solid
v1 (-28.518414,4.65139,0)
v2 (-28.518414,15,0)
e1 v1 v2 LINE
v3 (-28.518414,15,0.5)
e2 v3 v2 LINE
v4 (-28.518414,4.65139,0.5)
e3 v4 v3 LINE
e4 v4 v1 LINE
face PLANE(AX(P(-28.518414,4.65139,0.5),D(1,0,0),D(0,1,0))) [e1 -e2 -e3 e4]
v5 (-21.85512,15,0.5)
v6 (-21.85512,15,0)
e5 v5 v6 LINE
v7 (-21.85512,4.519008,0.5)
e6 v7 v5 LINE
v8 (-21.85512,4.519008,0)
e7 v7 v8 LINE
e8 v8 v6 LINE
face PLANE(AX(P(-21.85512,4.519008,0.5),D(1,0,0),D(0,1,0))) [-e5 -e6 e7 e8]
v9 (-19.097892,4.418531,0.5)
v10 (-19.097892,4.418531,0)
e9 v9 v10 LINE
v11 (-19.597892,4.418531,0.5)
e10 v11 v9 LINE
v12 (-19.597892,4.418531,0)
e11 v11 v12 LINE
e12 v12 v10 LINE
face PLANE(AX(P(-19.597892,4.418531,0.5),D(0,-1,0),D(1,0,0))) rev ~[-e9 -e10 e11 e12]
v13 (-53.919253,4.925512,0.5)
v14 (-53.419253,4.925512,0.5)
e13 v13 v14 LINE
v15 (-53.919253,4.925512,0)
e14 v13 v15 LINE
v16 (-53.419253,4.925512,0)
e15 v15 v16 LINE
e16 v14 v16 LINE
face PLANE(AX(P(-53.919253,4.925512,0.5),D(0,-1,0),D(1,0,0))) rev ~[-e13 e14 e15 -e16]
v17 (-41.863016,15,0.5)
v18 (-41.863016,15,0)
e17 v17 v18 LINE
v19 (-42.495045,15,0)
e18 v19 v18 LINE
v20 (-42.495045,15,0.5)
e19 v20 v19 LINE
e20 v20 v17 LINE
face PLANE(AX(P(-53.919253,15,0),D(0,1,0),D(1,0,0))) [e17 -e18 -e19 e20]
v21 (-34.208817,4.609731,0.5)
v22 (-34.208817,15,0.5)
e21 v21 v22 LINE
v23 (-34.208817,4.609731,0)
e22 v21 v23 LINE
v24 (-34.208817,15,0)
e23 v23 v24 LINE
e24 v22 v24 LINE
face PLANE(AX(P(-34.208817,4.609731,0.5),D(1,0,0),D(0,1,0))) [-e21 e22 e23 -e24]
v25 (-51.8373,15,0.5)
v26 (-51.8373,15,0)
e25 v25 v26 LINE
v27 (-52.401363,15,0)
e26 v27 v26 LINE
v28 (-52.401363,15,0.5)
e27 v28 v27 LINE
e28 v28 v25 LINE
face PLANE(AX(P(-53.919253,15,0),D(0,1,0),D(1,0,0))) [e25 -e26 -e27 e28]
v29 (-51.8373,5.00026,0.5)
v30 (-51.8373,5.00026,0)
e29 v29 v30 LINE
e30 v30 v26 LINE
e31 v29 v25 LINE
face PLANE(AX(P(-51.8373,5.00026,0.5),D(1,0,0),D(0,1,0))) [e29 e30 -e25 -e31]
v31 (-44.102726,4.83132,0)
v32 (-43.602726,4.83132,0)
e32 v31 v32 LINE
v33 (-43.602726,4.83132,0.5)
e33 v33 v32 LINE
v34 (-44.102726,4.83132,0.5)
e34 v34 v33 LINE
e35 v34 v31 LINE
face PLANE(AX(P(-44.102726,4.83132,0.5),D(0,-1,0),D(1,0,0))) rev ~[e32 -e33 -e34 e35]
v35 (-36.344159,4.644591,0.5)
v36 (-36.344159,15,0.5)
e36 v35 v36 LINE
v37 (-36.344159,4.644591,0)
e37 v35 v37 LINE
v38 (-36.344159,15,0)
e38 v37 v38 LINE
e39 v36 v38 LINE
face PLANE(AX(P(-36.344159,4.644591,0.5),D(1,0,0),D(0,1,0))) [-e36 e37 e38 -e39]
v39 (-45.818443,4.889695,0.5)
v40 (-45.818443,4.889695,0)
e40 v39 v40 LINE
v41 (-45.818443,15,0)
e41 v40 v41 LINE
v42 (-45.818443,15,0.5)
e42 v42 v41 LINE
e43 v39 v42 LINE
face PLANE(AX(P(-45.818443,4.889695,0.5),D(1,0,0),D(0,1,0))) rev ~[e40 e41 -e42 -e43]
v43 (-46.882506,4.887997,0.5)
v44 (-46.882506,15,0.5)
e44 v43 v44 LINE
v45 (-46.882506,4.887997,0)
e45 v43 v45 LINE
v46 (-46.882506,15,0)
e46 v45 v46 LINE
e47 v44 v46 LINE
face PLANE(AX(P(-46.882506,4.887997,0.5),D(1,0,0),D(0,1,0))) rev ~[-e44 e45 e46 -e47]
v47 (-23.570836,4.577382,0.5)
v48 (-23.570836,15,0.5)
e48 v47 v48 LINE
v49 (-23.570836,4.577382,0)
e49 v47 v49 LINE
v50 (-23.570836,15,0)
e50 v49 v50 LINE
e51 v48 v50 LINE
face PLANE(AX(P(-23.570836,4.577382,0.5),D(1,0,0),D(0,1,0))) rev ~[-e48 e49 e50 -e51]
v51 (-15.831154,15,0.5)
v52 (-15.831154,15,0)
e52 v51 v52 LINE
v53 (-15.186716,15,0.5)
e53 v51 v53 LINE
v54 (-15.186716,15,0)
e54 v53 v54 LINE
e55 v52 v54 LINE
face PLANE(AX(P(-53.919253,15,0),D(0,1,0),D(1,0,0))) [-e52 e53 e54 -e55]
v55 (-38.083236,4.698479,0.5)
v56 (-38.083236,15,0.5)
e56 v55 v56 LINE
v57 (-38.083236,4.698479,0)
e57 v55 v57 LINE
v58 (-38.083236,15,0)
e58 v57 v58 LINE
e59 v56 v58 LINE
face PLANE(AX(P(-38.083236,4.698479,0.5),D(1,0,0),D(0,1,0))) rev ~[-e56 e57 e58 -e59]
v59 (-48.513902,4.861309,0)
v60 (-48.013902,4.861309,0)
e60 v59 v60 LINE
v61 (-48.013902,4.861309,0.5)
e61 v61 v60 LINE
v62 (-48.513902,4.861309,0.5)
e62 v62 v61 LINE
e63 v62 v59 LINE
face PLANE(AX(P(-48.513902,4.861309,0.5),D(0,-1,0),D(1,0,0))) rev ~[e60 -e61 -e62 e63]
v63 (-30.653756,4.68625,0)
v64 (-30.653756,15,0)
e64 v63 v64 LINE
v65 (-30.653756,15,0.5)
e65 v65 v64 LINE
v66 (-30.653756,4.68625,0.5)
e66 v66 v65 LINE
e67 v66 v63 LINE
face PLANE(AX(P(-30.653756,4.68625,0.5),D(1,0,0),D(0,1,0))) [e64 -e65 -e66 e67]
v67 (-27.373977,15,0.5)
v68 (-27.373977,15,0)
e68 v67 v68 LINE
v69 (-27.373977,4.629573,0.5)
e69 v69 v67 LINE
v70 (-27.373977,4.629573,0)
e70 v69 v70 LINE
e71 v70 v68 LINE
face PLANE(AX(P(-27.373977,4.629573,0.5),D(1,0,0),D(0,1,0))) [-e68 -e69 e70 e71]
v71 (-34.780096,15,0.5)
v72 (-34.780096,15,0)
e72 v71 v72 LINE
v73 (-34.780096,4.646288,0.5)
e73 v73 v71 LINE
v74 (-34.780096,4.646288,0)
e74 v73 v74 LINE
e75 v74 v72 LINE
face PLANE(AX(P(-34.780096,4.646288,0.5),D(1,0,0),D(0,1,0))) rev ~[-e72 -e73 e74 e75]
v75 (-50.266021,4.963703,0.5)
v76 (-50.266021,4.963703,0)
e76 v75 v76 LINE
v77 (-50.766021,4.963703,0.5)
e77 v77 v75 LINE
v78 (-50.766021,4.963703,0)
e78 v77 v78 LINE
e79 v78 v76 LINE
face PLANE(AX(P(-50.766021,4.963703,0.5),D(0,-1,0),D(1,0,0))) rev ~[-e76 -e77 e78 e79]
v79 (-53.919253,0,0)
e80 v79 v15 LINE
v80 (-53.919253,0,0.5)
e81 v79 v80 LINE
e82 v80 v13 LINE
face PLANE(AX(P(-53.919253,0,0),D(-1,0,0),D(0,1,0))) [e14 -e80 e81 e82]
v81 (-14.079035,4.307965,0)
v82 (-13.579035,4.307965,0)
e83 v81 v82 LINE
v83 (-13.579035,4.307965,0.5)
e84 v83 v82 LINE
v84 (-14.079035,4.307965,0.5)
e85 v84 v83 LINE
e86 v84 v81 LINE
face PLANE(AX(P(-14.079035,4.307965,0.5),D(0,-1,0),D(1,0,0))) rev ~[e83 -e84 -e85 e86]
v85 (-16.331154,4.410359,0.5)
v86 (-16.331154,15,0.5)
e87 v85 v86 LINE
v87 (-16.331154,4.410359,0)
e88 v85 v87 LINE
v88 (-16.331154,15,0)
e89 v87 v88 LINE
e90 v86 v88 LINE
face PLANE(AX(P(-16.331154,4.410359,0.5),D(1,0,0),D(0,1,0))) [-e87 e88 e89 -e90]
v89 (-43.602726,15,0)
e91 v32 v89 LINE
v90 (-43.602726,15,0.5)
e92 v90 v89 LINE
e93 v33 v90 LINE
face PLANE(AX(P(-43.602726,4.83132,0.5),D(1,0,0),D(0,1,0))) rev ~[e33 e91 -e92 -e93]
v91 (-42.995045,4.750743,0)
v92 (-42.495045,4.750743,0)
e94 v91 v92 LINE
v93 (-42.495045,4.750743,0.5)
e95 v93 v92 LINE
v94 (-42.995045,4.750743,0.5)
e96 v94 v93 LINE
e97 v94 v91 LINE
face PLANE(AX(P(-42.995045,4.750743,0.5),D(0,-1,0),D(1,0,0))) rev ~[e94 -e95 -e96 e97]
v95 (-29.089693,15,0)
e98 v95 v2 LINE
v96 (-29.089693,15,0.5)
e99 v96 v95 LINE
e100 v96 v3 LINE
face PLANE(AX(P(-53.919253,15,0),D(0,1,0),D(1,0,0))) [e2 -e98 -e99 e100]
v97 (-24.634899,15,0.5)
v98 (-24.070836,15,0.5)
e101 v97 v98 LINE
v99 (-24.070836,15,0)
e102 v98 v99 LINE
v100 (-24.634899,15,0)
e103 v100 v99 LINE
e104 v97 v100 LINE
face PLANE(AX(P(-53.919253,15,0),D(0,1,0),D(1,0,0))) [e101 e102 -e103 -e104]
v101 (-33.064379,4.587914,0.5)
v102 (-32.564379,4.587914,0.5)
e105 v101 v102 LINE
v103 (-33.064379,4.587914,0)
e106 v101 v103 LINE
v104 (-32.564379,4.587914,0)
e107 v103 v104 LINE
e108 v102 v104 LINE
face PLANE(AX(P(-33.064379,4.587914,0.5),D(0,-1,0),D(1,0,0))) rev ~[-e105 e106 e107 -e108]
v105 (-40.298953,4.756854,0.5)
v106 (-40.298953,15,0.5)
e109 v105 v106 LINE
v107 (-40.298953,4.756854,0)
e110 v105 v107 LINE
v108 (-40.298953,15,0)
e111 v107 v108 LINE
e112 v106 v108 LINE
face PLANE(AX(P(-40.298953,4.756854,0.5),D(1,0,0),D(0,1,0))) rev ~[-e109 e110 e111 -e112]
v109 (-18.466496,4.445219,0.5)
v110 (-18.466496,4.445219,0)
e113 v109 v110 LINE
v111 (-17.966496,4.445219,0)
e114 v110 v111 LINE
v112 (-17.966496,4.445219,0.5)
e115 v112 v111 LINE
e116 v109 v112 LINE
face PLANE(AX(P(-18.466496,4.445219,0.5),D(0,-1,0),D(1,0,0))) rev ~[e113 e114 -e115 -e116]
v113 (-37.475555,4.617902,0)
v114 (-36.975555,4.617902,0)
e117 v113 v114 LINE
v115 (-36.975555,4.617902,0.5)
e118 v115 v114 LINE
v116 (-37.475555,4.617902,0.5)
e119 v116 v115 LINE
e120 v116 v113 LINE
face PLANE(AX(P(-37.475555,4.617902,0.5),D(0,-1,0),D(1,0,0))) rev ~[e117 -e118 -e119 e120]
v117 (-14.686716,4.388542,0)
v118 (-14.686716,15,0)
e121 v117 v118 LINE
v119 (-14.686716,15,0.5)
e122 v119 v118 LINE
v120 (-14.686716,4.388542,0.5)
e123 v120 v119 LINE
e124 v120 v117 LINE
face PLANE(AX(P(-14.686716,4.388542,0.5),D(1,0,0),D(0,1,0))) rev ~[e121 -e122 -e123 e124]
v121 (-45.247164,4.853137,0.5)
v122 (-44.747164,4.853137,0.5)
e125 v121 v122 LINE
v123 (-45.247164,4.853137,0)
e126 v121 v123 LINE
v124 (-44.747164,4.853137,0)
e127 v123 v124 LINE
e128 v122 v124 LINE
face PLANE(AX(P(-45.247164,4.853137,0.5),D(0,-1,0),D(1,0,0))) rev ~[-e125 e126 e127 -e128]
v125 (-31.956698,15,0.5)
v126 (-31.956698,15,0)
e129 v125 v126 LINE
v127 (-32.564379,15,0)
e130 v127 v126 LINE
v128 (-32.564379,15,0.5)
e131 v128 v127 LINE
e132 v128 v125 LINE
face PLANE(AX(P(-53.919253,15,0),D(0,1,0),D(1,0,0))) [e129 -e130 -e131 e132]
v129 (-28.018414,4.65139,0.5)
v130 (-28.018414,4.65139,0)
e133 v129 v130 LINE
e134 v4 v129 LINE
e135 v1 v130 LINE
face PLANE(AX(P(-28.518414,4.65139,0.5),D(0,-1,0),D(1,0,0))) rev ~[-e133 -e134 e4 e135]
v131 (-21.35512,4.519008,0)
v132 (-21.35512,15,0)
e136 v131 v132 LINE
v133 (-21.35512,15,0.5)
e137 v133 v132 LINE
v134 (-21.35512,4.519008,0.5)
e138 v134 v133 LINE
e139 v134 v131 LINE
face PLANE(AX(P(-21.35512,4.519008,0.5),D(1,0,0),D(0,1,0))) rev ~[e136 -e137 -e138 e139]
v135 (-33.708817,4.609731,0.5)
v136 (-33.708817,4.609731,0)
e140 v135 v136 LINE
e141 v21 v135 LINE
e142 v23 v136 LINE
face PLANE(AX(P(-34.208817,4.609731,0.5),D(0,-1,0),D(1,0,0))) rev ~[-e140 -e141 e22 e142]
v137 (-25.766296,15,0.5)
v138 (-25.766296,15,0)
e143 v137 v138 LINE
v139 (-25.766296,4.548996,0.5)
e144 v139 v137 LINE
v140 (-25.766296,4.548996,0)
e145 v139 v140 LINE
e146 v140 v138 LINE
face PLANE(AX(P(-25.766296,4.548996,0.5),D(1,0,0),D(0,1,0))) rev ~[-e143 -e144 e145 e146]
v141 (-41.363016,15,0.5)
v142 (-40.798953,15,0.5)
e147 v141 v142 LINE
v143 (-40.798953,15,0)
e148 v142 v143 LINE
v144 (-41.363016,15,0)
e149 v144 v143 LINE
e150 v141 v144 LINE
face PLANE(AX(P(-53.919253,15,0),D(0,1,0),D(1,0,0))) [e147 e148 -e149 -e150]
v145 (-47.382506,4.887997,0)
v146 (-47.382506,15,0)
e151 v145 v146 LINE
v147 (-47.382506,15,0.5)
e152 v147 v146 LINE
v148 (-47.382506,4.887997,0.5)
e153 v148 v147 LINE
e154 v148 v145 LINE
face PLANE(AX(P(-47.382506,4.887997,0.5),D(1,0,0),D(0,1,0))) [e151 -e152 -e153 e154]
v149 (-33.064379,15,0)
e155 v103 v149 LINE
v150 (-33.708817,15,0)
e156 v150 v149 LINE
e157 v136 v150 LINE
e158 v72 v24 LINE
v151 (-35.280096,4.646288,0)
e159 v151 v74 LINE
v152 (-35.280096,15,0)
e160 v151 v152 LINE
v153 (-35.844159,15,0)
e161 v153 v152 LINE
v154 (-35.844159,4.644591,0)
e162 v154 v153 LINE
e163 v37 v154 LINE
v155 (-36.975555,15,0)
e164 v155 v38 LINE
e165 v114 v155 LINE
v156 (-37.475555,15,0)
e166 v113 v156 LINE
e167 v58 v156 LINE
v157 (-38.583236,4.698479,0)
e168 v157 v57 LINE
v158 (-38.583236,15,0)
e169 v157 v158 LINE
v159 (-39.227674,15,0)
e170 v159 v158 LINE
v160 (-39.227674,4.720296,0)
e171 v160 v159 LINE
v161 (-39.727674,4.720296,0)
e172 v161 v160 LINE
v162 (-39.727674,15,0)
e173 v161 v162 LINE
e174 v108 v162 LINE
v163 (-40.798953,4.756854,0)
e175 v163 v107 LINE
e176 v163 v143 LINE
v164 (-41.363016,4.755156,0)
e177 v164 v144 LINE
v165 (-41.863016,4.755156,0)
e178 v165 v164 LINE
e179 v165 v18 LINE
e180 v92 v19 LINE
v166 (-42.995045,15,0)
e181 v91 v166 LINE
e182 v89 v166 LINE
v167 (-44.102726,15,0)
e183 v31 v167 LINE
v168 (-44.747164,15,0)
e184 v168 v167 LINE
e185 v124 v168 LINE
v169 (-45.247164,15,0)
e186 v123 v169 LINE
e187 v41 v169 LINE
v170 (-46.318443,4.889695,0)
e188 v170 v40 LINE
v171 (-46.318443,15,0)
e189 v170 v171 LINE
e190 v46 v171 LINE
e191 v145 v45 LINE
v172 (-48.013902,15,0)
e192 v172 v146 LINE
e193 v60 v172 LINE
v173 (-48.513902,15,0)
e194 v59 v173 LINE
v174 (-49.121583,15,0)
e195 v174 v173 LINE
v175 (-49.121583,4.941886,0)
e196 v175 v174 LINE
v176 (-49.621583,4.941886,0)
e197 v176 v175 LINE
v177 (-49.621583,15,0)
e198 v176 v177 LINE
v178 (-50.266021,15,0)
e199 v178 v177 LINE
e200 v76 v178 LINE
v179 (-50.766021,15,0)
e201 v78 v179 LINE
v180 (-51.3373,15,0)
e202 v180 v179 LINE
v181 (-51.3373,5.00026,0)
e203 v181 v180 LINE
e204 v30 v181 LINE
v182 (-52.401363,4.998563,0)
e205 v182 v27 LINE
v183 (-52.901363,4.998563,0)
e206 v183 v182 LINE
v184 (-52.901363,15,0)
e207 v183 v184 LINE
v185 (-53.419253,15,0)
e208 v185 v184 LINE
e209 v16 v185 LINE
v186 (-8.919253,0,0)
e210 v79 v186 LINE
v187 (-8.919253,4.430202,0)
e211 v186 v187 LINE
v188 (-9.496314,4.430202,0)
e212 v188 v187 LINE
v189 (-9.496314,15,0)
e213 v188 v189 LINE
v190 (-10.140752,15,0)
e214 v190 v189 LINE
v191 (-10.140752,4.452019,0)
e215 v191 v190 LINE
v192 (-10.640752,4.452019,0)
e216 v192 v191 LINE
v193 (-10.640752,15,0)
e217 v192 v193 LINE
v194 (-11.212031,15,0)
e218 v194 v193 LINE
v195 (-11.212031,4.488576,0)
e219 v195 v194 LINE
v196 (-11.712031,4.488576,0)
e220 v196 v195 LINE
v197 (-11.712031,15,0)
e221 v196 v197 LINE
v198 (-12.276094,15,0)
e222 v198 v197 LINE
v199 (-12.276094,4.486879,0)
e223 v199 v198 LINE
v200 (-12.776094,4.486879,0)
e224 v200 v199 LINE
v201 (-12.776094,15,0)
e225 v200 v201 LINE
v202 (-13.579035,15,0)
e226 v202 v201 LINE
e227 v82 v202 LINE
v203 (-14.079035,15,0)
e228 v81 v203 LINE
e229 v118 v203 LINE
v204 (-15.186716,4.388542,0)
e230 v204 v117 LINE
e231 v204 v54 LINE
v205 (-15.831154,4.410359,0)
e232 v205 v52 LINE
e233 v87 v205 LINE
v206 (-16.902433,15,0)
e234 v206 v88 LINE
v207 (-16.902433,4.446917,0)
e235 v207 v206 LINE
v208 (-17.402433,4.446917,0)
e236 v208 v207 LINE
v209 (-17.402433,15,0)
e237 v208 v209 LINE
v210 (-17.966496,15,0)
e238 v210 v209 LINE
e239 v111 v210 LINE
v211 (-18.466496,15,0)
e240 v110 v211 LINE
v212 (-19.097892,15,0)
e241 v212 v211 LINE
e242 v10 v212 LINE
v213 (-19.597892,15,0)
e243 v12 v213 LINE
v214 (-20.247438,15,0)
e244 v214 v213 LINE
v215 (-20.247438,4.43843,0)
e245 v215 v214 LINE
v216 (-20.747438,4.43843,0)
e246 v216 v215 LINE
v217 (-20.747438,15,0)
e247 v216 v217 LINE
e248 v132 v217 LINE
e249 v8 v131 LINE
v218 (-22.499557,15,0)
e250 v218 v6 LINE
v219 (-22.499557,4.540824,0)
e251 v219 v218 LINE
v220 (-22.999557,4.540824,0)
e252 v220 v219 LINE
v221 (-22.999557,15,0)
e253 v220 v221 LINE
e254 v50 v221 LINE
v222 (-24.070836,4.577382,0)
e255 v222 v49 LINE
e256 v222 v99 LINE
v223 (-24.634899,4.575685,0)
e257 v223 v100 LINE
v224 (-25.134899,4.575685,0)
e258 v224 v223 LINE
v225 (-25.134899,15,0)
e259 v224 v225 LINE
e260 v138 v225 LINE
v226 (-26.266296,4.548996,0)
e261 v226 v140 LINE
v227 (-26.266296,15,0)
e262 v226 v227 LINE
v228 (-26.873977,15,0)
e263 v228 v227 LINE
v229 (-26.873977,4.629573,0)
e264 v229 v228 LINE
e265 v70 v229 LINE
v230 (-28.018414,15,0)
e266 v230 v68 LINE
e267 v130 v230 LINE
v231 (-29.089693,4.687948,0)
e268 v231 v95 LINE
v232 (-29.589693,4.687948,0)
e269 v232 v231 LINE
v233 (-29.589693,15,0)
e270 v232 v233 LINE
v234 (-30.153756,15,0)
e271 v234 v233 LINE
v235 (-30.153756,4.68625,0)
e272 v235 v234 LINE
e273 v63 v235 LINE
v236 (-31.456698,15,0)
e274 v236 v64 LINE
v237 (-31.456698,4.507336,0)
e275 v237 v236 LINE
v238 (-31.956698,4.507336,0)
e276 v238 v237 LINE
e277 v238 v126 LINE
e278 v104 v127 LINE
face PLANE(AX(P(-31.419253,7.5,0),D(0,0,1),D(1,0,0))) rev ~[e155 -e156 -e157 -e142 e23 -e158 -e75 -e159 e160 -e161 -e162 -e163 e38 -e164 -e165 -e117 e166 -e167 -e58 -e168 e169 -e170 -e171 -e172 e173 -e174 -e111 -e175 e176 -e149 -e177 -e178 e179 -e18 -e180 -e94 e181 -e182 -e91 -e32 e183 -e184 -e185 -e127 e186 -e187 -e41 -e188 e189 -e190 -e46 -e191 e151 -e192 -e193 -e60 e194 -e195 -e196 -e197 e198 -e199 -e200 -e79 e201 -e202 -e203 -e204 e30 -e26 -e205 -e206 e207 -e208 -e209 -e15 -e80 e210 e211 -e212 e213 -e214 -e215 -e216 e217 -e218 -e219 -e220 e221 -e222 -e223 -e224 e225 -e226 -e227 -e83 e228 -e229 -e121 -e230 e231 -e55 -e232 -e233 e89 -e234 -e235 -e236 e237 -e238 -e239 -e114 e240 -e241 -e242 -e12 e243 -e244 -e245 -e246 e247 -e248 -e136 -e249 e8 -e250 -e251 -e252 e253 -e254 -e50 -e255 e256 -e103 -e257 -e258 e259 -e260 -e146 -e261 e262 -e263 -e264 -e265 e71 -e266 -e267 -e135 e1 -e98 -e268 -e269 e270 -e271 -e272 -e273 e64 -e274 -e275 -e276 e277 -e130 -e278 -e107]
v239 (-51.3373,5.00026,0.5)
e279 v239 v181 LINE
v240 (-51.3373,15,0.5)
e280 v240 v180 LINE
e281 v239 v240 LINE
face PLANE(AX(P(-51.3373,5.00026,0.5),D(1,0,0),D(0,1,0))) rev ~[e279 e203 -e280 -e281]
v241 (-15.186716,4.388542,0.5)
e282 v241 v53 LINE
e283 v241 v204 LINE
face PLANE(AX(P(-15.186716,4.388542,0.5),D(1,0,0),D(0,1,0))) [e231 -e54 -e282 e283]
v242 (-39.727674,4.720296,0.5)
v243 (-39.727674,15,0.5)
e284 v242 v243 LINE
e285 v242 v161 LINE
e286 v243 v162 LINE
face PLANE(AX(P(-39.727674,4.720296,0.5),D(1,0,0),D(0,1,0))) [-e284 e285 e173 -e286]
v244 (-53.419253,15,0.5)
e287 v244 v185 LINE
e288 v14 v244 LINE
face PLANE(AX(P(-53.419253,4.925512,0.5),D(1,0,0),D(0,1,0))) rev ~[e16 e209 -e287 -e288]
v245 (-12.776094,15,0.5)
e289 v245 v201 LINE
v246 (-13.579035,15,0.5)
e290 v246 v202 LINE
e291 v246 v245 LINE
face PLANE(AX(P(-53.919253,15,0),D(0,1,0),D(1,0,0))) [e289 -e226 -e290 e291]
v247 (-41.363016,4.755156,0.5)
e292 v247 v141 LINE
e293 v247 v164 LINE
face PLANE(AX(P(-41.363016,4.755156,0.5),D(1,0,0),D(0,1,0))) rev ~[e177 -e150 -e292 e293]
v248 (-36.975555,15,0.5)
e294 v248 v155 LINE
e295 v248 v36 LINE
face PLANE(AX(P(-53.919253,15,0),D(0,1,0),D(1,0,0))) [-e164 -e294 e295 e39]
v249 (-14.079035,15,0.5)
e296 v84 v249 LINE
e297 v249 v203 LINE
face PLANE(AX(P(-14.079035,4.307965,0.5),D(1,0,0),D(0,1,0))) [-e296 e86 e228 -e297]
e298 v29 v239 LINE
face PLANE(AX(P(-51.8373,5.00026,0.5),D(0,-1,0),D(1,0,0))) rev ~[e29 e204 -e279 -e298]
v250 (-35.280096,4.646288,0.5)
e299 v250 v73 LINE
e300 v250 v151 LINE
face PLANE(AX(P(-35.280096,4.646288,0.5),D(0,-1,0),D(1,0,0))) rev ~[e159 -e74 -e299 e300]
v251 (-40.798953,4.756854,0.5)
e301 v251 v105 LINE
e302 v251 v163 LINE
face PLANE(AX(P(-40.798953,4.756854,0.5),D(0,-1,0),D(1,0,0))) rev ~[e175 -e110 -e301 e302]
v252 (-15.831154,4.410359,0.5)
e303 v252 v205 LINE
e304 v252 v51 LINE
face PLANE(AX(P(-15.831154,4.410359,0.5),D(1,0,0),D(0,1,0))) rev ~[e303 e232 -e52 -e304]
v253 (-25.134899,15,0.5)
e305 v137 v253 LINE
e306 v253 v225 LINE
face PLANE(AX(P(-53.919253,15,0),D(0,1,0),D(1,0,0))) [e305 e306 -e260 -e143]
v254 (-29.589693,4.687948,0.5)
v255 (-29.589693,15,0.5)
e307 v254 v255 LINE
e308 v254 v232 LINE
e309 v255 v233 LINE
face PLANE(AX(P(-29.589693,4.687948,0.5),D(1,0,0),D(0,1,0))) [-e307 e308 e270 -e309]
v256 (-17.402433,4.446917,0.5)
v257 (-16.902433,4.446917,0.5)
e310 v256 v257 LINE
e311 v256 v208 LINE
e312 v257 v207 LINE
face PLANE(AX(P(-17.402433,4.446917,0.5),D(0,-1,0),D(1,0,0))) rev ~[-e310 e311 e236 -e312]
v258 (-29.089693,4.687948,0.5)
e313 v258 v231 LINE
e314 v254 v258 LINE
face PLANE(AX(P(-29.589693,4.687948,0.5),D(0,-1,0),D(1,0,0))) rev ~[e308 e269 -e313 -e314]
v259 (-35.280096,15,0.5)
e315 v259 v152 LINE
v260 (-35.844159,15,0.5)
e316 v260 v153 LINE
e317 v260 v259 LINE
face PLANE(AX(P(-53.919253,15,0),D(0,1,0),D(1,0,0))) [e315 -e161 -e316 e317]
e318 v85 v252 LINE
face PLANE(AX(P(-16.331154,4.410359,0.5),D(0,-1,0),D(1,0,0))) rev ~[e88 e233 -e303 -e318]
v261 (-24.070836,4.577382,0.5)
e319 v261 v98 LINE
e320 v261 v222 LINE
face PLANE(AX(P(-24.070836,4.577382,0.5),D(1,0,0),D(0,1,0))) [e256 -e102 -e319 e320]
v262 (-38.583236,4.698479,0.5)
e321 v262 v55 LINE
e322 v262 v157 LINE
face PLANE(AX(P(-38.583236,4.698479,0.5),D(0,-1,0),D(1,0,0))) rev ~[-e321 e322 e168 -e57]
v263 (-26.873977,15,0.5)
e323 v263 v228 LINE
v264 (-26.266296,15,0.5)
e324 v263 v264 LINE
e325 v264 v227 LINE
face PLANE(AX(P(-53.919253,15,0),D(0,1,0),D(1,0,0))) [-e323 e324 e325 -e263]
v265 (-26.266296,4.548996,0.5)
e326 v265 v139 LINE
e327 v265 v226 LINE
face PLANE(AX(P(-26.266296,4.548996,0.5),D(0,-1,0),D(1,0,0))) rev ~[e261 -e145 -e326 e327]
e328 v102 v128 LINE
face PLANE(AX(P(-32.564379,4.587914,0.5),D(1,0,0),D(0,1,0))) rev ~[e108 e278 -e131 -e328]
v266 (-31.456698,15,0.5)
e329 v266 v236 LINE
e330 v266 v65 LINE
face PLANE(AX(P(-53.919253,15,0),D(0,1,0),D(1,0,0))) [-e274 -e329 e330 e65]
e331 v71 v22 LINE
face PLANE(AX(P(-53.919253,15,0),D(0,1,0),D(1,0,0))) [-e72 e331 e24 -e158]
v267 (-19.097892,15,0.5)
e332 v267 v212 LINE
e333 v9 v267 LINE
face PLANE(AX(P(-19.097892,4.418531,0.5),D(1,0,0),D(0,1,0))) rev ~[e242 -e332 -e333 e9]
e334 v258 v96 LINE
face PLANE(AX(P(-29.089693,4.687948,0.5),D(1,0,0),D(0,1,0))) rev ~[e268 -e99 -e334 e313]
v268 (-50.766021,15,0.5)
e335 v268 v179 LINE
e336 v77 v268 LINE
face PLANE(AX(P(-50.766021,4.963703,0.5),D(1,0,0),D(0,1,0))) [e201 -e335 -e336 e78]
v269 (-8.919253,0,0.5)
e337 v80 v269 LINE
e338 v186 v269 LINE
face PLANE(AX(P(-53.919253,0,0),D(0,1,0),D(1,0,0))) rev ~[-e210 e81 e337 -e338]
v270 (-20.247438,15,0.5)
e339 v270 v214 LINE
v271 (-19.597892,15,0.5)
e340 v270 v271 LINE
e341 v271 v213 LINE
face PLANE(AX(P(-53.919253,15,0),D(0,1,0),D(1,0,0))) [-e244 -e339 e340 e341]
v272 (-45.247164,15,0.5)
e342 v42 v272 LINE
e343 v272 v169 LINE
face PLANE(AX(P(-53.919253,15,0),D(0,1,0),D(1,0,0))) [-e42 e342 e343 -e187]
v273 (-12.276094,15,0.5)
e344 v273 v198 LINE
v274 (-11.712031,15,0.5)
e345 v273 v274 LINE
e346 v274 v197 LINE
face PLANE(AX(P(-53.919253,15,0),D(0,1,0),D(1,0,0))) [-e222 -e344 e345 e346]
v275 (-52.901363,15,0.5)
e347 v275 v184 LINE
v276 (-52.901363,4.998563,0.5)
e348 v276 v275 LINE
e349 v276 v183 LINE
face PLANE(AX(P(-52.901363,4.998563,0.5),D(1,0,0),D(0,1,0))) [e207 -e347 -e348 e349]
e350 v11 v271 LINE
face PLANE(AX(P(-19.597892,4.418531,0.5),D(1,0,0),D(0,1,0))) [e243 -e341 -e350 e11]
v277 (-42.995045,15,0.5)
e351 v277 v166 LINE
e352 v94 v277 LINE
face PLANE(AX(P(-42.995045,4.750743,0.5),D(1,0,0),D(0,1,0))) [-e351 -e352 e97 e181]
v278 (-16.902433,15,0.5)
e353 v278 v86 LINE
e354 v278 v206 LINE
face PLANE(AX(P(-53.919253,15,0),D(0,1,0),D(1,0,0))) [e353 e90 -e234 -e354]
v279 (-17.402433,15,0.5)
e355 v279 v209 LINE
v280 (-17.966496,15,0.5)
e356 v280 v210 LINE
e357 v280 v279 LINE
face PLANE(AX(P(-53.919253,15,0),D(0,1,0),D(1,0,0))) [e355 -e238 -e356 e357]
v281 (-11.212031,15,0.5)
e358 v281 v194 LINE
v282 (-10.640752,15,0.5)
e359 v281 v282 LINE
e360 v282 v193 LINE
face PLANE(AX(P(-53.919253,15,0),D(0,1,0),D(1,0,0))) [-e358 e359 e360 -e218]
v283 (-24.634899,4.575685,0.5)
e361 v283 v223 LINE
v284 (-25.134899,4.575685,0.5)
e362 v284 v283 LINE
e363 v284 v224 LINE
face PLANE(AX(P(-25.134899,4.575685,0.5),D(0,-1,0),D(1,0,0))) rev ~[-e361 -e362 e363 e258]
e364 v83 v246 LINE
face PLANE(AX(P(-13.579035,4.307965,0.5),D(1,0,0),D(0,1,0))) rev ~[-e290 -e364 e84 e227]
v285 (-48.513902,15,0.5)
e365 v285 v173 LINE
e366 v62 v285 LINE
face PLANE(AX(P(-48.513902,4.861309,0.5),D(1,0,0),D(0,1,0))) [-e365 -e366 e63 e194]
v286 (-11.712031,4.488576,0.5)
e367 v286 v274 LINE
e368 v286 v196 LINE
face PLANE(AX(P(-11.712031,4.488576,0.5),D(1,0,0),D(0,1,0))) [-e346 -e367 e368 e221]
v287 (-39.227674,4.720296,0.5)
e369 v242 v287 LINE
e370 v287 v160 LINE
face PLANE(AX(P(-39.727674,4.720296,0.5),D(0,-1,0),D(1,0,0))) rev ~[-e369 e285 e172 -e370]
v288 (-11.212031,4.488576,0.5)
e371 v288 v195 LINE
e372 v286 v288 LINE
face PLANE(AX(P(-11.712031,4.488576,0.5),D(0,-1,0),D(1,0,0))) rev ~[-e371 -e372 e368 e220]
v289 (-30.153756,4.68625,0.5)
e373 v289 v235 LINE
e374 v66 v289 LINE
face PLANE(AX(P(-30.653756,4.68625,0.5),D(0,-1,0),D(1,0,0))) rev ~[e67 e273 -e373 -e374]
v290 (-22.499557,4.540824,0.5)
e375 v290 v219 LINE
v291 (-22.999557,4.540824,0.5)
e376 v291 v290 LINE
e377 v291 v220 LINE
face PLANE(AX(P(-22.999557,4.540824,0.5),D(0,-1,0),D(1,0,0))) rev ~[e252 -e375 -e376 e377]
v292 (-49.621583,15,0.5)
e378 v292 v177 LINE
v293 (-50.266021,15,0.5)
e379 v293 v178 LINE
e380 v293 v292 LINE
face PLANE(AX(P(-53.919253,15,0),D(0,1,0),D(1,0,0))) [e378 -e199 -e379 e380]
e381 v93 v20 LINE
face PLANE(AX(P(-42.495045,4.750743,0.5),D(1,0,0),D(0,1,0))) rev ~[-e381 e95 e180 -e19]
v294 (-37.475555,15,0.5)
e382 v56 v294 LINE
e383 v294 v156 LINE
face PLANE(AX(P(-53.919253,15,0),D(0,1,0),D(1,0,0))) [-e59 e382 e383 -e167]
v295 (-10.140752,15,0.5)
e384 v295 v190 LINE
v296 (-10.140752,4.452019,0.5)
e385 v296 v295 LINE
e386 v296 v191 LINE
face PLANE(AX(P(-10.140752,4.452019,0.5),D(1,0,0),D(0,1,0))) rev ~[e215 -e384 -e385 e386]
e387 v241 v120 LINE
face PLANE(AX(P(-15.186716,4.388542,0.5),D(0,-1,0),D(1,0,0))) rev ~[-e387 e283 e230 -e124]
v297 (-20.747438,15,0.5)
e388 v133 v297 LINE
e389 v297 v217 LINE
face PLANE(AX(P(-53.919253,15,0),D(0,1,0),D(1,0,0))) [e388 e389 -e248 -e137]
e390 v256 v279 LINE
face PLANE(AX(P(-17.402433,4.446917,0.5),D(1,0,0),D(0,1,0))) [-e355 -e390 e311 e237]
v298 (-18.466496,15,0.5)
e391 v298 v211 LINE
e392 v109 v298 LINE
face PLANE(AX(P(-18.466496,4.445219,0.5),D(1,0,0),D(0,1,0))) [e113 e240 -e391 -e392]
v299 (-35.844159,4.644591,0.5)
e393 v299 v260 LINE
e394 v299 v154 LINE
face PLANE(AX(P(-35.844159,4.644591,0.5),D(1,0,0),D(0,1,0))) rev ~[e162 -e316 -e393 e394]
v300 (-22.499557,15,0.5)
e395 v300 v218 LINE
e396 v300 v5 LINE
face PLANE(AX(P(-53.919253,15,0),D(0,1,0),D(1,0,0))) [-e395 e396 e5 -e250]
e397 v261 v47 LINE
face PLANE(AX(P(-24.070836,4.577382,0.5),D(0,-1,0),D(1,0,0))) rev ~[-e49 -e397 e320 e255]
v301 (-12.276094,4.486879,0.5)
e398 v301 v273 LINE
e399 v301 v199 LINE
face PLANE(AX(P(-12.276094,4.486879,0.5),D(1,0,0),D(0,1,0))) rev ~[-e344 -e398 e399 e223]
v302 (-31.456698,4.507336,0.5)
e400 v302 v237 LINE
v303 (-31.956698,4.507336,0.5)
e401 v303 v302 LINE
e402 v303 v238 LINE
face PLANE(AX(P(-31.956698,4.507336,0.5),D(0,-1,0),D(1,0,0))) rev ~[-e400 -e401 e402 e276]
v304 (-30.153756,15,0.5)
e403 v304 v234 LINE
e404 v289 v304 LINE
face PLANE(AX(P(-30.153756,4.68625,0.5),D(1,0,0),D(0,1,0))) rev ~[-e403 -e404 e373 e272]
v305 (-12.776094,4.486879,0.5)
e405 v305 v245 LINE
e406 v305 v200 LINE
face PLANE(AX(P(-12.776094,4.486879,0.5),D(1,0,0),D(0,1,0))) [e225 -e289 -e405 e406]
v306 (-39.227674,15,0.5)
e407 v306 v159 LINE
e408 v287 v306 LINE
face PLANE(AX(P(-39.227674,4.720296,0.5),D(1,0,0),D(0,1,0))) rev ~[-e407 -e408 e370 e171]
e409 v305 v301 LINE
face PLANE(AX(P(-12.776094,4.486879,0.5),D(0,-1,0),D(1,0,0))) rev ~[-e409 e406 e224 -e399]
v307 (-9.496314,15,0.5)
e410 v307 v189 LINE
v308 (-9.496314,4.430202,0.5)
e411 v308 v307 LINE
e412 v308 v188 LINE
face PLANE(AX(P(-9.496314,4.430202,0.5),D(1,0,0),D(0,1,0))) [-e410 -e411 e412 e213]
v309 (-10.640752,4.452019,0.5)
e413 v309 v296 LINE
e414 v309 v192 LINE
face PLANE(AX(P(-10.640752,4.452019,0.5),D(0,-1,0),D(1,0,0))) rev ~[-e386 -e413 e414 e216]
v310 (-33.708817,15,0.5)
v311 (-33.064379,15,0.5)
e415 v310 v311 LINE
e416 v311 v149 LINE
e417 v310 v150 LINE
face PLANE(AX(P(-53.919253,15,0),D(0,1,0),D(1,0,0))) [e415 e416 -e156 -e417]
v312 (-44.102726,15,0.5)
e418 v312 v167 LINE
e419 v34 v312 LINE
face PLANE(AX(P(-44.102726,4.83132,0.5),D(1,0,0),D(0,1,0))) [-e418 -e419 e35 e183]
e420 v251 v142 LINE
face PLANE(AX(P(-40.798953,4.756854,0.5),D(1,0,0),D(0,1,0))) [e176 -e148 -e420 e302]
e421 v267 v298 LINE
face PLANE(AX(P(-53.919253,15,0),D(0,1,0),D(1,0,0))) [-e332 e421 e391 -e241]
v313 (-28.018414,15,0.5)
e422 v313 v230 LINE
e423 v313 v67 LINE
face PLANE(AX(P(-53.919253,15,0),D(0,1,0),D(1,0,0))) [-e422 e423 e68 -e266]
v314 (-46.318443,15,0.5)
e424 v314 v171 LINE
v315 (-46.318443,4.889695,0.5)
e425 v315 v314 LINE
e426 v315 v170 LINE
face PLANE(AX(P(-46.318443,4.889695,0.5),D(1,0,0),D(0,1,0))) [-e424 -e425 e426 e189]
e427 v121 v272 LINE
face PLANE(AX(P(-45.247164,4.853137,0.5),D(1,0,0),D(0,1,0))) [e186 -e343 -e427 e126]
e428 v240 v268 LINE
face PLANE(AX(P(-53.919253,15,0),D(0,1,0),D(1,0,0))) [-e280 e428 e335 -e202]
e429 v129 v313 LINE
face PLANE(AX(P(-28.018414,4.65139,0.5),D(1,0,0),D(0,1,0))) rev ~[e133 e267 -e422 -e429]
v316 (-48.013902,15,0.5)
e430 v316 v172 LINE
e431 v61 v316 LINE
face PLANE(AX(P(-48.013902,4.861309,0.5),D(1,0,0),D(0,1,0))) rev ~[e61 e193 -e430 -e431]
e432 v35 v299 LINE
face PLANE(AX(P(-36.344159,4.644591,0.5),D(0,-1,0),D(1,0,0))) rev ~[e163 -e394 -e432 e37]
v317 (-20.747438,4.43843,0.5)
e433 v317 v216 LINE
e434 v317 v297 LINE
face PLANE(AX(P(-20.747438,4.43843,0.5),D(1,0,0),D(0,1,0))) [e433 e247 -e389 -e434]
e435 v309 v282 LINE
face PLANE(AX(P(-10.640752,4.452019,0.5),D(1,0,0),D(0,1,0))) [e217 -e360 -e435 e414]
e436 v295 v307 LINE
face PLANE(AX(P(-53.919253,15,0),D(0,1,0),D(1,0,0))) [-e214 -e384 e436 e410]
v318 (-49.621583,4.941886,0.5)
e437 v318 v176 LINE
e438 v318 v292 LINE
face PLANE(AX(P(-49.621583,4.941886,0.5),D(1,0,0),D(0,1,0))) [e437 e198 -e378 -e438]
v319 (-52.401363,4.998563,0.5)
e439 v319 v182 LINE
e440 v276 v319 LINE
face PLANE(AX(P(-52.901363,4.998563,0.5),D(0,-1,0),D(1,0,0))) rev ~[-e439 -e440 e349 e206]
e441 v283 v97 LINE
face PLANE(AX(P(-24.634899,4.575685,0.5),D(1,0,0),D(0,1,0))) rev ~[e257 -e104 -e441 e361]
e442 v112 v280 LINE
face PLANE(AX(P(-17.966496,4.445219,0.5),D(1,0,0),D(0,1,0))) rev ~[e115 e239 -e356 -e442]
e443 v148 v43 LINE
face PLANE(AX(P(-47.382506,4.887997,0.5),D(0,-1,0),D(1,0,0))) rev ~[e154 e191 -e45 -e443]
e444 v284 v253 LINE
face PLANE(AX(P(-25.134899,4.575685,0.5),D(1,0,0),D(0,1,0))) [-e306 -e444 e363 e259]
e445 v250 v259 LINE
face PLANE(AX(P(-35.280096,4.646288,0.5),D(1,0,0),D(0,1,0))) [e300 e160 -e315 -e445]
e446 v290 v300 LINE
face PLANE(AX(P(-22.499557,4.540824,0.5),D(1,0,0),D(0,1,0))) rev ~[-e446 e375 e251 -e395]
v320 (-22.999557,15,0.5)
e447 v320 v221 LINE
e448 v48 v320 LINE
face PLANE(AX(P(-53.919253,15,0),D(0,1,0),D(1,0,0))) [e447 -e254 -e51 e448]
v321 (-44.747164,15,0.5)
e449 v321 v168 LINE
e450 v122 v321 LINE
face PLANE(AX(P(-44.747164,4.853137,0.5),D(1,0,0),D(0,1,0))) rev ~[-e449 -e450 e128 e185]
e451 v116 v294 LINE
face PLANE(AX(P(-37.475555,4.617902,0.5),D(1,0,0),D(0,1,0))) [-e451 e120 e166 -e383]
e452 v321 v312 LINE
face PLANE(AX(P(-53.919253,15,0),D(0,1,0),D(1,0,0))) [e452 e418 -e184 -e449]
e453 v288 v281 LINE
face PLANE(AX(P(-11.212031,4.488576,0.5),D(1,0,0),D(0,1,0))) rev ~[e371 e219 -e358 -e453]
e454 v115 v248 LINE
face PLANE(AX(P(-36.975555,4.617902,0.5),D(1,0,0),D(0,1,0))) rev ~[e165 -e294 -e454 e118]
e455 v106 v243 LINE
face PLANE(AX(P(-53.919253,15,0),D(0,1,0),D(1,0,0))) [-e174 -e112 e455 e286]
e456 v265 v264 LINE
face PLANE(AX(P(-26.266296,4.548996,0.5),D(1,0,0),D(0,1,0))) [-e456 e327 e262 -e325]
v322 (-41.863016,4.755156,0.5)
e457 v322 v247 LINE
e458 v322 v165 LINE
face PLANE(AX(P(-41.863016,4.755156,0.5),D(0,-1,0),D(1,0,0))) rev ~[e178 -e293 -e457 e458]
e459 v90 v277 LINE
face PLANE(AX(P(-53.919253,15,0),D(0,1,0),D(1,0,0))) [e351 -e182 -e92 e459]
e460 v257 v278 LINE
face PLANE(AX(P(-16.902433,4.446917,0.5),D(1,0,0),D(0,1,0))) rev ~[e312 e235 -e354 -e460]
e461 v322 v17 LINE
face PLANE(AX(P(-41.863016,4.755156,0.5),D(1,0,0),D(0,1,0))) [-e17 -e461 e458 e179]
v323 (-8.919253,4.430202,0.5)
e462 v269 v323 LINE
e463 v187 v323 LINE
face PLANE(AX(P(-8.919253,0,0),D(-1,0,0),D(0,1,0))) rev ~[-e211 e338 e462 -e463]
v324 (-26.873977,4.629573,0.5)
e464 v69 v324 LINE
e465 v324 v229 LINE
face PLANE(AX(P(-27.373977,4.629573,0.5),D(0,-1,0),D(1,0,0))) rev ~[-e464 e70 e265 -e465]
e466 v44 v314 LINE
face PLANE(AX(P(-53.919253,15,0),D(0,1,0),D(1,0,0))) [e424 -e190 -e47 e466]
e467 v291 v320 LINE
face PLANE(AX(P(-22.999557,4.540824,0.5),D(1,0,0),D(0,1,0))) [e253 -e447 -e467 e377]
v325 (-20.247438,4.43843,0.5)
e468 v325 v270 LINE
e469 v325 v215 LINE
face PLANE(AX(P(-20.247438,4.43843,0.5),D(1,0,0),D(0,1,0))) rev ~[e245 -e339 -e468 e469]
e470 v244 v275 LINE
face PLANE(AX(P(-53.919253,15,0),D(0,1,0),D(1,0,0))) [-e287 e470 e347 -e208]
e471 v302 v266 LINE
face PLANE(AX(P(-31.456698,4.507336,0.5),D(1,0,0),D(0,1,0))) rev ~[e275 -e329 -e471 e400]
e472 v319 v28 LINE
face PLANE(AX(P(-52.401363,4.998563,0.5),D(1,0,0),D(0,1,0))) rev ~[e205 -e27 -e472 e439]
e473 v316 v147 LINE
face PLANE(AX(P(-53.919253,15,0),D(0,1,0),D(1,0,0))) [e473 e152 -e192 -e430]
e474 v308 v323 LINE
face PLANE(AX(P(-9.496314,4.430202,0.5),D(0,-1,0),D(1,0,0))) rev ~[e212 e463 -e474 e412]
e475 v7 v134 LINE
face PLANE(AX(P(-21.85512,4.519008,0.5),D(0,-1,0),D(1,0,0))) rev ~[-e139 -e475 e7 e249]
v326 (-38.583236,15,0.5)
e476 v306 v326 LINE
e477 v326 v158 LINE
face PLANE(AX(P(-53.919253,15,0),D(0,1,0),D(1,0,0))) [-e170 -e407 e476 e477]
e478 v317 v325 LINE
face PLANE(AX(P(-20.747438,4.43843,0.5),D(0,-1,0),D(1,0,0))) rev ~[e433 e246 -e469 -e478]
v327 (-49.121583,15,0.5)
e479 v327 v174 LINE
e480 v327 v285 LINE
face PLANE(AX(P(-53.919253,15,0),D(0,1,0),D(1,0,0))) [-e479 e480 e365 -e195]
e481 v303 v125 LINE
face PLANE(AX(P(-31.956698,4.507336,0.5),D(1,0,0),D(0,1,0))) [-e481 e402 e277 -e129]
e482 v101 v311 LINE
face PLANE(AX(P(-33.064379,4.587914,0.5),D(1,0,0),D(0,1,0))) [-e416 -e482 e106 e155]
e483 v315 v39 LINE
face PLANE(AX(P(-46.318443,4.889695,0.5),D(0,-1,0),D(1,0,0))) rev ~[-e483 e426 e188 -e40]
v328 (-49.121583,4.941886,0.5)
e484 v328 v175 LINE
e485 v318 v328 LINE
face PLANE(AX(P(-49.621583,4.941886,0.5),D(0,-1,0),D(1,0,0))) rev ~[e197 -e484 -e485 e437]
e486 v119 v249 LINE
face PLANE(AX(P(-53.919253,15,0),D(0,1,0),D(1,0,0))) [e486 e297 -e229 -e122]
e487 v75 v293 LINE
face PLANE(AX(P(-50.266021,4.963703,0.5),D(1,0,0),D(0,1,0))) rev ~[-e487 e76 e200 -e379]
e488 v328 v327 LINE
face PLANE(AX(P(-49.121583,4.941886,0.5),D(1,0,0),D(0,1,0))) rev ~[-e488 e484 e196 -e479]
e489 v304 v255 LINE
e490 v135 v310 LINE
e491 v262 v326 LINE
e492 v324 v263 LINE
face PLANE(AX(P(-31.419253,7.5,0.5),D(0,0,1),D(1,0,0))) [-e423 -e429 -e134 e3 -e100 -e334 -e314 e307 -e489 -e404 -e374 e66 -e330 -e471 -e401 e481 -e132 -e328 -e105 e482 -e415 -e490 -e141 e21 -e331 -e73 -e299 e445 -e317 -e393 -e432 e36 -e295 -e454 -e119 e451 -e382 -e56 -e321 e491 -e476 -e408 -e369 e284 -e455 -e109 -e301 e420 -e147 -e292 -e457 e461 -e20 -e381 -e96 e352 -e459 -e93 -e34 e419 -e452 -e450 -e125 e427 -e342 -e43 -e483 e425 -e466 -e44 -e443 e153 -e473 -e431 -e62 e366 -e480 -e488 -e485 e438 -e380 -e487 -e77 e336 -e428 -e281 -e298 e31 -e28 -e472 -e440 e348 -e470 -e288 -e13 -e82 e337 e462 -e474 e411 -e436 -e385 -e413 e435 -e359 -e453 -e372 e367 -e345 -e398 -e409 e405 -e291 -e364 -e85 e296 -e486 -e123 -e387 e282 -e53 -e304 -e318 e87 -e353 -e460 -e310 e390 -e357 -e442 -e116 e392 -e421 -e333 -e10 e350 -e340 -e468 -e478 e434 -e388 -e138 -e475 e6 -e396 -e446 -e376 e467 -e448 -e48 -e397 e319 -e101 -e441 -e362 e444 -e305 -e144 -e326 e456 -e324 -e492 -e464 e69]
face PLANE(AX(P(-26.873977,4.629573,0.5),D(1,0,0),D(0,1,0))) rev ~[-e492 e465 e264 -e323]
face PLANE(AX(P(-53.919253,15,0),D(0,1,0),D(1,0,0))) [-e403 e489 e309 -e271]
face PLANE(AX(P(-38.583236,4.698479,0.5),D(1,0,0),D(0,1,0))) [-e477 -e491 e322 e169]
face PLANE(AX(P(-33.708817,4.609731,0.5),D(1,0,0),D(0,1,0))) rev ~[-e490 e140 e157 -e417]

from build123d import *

# Parameters (mm, degrees)
SKETCH1_W           = 45
SKETCH1_H           = 15
BOSS_EXTRUDE1_DEPTH = 0.5
SKETCH2_W           = 0.5
SKETCH2_H           = 12
SKETCH2_H_2         = 10.074487737
SKETCH2_W_2         = 0.812235623
CUT_EXTRUDE1_DEPTH  = 0.5


with BuildPart() as part:
    # Sketch1 → Boss-Extrude1 (new body)
    with BuildSketch(Plane.XY):
        with Locations((-31.419252999, 7.5)):
            Rectangle(SKETCH1_W, SKETCH1_H)
    extrude(amount=BOSS_EXTRUDE1_DEPTH)

    # Sketch2 → Cut-Extrude1 (cut)
    with BuildSketch(Plane.XY.offset(0.5)):
        with Locations((-52.65136316, 10.998562855)):
            Rectangle(SKETCH2_W, SKETCH2_H)
        with Locations((-53.669252999, 9.962756132)):
            Rectangle(SKETCH2_W, SKETCH2_H_2)
        with Locations((-51.587300045, 11.000260257)):
            Rectangle(SKETCH2_W, SKETCH2_H)
        with Locations((-50.51602115, 10.963702729)):
            Rectangle(SKETCH2_W, SKETCH2_H)
        with Locations((-49.371583394, 10.941885768)):
            Rectangle(SKETCH2_W, SKETCH2_H)
        with Locations((-48.263902197, 10.86130862)):
            Rectangle(SKETCH2_W, SKETCH2_H)
        with Locations((-47.132506134, 10.88799725)):
            Rectangle(SKETCH2_W, SKETCH2_H)
        with Locations((-46.068443018, 10.889694652)):
            Rectangle(SKETCH2_W, SKETCH2_H)
        with Locations((-44.997164124, 10.853137125)):
            Rectangle(SKETCH2_W, SKETCH2_H)
        with Locations((-43.852726367, 10.831320164)):
            Rectangle(SKETCH2_W, SKETCH2_H)
        with Locations((-42.745045171, 10.750743016)):
            Rectangle(SKETCH2_W, SKETCH2_H)
        with Locations((-41.613016052, 10.755156249)):
            Rectangle(SKETCH2_W, SKETCH2_H)
        with Locations((-40.548952936, 10.756853651)):
            Rectangle(SKETCH2_W, SKETCH2_H)
        with Locations((-39.477674042, 10.720296123)):
            Rectangle(SKETCH2_W, SKETCH2_H)
        with Locations((-38.333236285, 10.698479162)):
            Rectangle(SKETCH2_W, SKETCH2_H)
        with Locations((-37.225555089, 10.617902014)):
            Rectangle(SKETCH2_W, SKETCH2_H)
        with Locations((-36.094159026, 10.644590644)):
            Rectangle(SKETCH2_W, SKETCH2_H)
        with Locations((-35.03009591, 10.646288046)):
            Rectangle(SKETCH2_W, SKETCH2_H)
        with Locations((-33.958817016, 10.609730519)):
            Rectangle(SKETCH2_W, SKETCH2_H)
        with Locations((-32.814379259, 10.587913558)):
            Rectangle(SKETCH2_W, SKETCH2_H)
        with Locations((-31.706698063, 10.50733641)):
            Rectangle(SKETCH2_W, SKETCH2_H)
        with Locations((-30.403756477, 10.686250193)):
            Rectangle(SKETCH2_W, SKETCH2_H)
        with Locations((-29.339693362, 10.687947595)):
            Rectangle(SKETCH2_W, SKETCH2_H)
        with Locations((-28.268414467, 10.651390067)):
            Rectangle(SKETCH2_W, SKETCH2_H)
        with Locations((-27.123976711, 10.629573106)):
            Rectangle(SKETCH2_W, SKETCH2_H)
        with Locations((-26.016295514, 10.548995958)):
            Rectangle(SKETCH2_W, SKETCH2_H)
        with Locations((-24.884899451, 10.575684588)):
            Rectangle(SKETCH2_W, SKETCH2_H)
        with Locations((-23.820836336, 10.57738199)):
            Rectangle(SKETCH2_W, SKETCH2_H)
        with Locations((-22.749557441, 10.540824462)):
            Rectangle(SKETCH2_W, SKETCH2_H)
        with Locations((-21.605119685, 10.519007501)):
            Rectangle(SKETCH2_W, SKETCH2_H)
        with Locations((-20.497438488, 10.438430353)):
            Rectangle(SKETCH2_W, SKETCH2_H)
        with Locations((-19.347892241, 10.418530687)):
            Rectangle(SKETCH2_W, SKETCH2_H)
        with Locations((-18.216496178, 10.445219317)):
            Rectangle(SKETCH2_W, SKETCH2_H)
        with Locations((-17.152433063, 10.446916719)):
            Rectangle(SKETCH2_W, SKETCH2_H)
        with Locations((-16.081154168, 10.410359191)):
            Rectangle(SKETCH2_W, SKETCH2_H)
        with Locations((-14.936716412, 10.38854223)):
            Rectangle(SKETCH2_W, SKETCH2_H)
        with Locations((-13.829035215, 10.307965082)):
            Rectangle(SKETCH2_W, SKETCH2_H)
        with Locations((-12.526093629, 10.486878866)):
            Rectangle(SKETCH2_W, SKETCH2_H)
        with Locations((-11.462030514, 10.488576268)):
            Rectangle(SKETCH2_W, SKETCH2_H)
        with Locations((-10.390751619, 10.45201874)):
            Rectangle(SKETCH2_W, SKETCH2_H)
        with Locations((-9.090196052, 10.430201779)):
            Rectangle(SKETCH2_W_2, SKETCH2_H)
        with Locations((-8.138632666, 10.349624631)):
            Rectangle(SKETCH2_W, SKETCH2_H)
        with Locations((-7.007236603, 10.376313261)):
            Rectangle(SKETCH2_W, SKETCH2_H)
        with Locations((-5.943173488, 10.378010663)):
            Rectangle(SKETCH2_W, SKETCH2_H)
        with Locations((-4.871894593, 10.341453135)):
            Rectangle(SKETCH2_W, SKETCH2_H)
        with Locations((-3.727456837, 10.319636174)):
            Rectangle(SKETCH2_W, SKETCH2_H)
        with Locations((-2.61977564, 10.239059026)):
            Rectangle(SKETCH2_W, SKETCH2_H)
    extrude(amount=-CUT_EXTRUDE1_DEPTH, mode=Mode.SUBTRACT)


solid = part.part
